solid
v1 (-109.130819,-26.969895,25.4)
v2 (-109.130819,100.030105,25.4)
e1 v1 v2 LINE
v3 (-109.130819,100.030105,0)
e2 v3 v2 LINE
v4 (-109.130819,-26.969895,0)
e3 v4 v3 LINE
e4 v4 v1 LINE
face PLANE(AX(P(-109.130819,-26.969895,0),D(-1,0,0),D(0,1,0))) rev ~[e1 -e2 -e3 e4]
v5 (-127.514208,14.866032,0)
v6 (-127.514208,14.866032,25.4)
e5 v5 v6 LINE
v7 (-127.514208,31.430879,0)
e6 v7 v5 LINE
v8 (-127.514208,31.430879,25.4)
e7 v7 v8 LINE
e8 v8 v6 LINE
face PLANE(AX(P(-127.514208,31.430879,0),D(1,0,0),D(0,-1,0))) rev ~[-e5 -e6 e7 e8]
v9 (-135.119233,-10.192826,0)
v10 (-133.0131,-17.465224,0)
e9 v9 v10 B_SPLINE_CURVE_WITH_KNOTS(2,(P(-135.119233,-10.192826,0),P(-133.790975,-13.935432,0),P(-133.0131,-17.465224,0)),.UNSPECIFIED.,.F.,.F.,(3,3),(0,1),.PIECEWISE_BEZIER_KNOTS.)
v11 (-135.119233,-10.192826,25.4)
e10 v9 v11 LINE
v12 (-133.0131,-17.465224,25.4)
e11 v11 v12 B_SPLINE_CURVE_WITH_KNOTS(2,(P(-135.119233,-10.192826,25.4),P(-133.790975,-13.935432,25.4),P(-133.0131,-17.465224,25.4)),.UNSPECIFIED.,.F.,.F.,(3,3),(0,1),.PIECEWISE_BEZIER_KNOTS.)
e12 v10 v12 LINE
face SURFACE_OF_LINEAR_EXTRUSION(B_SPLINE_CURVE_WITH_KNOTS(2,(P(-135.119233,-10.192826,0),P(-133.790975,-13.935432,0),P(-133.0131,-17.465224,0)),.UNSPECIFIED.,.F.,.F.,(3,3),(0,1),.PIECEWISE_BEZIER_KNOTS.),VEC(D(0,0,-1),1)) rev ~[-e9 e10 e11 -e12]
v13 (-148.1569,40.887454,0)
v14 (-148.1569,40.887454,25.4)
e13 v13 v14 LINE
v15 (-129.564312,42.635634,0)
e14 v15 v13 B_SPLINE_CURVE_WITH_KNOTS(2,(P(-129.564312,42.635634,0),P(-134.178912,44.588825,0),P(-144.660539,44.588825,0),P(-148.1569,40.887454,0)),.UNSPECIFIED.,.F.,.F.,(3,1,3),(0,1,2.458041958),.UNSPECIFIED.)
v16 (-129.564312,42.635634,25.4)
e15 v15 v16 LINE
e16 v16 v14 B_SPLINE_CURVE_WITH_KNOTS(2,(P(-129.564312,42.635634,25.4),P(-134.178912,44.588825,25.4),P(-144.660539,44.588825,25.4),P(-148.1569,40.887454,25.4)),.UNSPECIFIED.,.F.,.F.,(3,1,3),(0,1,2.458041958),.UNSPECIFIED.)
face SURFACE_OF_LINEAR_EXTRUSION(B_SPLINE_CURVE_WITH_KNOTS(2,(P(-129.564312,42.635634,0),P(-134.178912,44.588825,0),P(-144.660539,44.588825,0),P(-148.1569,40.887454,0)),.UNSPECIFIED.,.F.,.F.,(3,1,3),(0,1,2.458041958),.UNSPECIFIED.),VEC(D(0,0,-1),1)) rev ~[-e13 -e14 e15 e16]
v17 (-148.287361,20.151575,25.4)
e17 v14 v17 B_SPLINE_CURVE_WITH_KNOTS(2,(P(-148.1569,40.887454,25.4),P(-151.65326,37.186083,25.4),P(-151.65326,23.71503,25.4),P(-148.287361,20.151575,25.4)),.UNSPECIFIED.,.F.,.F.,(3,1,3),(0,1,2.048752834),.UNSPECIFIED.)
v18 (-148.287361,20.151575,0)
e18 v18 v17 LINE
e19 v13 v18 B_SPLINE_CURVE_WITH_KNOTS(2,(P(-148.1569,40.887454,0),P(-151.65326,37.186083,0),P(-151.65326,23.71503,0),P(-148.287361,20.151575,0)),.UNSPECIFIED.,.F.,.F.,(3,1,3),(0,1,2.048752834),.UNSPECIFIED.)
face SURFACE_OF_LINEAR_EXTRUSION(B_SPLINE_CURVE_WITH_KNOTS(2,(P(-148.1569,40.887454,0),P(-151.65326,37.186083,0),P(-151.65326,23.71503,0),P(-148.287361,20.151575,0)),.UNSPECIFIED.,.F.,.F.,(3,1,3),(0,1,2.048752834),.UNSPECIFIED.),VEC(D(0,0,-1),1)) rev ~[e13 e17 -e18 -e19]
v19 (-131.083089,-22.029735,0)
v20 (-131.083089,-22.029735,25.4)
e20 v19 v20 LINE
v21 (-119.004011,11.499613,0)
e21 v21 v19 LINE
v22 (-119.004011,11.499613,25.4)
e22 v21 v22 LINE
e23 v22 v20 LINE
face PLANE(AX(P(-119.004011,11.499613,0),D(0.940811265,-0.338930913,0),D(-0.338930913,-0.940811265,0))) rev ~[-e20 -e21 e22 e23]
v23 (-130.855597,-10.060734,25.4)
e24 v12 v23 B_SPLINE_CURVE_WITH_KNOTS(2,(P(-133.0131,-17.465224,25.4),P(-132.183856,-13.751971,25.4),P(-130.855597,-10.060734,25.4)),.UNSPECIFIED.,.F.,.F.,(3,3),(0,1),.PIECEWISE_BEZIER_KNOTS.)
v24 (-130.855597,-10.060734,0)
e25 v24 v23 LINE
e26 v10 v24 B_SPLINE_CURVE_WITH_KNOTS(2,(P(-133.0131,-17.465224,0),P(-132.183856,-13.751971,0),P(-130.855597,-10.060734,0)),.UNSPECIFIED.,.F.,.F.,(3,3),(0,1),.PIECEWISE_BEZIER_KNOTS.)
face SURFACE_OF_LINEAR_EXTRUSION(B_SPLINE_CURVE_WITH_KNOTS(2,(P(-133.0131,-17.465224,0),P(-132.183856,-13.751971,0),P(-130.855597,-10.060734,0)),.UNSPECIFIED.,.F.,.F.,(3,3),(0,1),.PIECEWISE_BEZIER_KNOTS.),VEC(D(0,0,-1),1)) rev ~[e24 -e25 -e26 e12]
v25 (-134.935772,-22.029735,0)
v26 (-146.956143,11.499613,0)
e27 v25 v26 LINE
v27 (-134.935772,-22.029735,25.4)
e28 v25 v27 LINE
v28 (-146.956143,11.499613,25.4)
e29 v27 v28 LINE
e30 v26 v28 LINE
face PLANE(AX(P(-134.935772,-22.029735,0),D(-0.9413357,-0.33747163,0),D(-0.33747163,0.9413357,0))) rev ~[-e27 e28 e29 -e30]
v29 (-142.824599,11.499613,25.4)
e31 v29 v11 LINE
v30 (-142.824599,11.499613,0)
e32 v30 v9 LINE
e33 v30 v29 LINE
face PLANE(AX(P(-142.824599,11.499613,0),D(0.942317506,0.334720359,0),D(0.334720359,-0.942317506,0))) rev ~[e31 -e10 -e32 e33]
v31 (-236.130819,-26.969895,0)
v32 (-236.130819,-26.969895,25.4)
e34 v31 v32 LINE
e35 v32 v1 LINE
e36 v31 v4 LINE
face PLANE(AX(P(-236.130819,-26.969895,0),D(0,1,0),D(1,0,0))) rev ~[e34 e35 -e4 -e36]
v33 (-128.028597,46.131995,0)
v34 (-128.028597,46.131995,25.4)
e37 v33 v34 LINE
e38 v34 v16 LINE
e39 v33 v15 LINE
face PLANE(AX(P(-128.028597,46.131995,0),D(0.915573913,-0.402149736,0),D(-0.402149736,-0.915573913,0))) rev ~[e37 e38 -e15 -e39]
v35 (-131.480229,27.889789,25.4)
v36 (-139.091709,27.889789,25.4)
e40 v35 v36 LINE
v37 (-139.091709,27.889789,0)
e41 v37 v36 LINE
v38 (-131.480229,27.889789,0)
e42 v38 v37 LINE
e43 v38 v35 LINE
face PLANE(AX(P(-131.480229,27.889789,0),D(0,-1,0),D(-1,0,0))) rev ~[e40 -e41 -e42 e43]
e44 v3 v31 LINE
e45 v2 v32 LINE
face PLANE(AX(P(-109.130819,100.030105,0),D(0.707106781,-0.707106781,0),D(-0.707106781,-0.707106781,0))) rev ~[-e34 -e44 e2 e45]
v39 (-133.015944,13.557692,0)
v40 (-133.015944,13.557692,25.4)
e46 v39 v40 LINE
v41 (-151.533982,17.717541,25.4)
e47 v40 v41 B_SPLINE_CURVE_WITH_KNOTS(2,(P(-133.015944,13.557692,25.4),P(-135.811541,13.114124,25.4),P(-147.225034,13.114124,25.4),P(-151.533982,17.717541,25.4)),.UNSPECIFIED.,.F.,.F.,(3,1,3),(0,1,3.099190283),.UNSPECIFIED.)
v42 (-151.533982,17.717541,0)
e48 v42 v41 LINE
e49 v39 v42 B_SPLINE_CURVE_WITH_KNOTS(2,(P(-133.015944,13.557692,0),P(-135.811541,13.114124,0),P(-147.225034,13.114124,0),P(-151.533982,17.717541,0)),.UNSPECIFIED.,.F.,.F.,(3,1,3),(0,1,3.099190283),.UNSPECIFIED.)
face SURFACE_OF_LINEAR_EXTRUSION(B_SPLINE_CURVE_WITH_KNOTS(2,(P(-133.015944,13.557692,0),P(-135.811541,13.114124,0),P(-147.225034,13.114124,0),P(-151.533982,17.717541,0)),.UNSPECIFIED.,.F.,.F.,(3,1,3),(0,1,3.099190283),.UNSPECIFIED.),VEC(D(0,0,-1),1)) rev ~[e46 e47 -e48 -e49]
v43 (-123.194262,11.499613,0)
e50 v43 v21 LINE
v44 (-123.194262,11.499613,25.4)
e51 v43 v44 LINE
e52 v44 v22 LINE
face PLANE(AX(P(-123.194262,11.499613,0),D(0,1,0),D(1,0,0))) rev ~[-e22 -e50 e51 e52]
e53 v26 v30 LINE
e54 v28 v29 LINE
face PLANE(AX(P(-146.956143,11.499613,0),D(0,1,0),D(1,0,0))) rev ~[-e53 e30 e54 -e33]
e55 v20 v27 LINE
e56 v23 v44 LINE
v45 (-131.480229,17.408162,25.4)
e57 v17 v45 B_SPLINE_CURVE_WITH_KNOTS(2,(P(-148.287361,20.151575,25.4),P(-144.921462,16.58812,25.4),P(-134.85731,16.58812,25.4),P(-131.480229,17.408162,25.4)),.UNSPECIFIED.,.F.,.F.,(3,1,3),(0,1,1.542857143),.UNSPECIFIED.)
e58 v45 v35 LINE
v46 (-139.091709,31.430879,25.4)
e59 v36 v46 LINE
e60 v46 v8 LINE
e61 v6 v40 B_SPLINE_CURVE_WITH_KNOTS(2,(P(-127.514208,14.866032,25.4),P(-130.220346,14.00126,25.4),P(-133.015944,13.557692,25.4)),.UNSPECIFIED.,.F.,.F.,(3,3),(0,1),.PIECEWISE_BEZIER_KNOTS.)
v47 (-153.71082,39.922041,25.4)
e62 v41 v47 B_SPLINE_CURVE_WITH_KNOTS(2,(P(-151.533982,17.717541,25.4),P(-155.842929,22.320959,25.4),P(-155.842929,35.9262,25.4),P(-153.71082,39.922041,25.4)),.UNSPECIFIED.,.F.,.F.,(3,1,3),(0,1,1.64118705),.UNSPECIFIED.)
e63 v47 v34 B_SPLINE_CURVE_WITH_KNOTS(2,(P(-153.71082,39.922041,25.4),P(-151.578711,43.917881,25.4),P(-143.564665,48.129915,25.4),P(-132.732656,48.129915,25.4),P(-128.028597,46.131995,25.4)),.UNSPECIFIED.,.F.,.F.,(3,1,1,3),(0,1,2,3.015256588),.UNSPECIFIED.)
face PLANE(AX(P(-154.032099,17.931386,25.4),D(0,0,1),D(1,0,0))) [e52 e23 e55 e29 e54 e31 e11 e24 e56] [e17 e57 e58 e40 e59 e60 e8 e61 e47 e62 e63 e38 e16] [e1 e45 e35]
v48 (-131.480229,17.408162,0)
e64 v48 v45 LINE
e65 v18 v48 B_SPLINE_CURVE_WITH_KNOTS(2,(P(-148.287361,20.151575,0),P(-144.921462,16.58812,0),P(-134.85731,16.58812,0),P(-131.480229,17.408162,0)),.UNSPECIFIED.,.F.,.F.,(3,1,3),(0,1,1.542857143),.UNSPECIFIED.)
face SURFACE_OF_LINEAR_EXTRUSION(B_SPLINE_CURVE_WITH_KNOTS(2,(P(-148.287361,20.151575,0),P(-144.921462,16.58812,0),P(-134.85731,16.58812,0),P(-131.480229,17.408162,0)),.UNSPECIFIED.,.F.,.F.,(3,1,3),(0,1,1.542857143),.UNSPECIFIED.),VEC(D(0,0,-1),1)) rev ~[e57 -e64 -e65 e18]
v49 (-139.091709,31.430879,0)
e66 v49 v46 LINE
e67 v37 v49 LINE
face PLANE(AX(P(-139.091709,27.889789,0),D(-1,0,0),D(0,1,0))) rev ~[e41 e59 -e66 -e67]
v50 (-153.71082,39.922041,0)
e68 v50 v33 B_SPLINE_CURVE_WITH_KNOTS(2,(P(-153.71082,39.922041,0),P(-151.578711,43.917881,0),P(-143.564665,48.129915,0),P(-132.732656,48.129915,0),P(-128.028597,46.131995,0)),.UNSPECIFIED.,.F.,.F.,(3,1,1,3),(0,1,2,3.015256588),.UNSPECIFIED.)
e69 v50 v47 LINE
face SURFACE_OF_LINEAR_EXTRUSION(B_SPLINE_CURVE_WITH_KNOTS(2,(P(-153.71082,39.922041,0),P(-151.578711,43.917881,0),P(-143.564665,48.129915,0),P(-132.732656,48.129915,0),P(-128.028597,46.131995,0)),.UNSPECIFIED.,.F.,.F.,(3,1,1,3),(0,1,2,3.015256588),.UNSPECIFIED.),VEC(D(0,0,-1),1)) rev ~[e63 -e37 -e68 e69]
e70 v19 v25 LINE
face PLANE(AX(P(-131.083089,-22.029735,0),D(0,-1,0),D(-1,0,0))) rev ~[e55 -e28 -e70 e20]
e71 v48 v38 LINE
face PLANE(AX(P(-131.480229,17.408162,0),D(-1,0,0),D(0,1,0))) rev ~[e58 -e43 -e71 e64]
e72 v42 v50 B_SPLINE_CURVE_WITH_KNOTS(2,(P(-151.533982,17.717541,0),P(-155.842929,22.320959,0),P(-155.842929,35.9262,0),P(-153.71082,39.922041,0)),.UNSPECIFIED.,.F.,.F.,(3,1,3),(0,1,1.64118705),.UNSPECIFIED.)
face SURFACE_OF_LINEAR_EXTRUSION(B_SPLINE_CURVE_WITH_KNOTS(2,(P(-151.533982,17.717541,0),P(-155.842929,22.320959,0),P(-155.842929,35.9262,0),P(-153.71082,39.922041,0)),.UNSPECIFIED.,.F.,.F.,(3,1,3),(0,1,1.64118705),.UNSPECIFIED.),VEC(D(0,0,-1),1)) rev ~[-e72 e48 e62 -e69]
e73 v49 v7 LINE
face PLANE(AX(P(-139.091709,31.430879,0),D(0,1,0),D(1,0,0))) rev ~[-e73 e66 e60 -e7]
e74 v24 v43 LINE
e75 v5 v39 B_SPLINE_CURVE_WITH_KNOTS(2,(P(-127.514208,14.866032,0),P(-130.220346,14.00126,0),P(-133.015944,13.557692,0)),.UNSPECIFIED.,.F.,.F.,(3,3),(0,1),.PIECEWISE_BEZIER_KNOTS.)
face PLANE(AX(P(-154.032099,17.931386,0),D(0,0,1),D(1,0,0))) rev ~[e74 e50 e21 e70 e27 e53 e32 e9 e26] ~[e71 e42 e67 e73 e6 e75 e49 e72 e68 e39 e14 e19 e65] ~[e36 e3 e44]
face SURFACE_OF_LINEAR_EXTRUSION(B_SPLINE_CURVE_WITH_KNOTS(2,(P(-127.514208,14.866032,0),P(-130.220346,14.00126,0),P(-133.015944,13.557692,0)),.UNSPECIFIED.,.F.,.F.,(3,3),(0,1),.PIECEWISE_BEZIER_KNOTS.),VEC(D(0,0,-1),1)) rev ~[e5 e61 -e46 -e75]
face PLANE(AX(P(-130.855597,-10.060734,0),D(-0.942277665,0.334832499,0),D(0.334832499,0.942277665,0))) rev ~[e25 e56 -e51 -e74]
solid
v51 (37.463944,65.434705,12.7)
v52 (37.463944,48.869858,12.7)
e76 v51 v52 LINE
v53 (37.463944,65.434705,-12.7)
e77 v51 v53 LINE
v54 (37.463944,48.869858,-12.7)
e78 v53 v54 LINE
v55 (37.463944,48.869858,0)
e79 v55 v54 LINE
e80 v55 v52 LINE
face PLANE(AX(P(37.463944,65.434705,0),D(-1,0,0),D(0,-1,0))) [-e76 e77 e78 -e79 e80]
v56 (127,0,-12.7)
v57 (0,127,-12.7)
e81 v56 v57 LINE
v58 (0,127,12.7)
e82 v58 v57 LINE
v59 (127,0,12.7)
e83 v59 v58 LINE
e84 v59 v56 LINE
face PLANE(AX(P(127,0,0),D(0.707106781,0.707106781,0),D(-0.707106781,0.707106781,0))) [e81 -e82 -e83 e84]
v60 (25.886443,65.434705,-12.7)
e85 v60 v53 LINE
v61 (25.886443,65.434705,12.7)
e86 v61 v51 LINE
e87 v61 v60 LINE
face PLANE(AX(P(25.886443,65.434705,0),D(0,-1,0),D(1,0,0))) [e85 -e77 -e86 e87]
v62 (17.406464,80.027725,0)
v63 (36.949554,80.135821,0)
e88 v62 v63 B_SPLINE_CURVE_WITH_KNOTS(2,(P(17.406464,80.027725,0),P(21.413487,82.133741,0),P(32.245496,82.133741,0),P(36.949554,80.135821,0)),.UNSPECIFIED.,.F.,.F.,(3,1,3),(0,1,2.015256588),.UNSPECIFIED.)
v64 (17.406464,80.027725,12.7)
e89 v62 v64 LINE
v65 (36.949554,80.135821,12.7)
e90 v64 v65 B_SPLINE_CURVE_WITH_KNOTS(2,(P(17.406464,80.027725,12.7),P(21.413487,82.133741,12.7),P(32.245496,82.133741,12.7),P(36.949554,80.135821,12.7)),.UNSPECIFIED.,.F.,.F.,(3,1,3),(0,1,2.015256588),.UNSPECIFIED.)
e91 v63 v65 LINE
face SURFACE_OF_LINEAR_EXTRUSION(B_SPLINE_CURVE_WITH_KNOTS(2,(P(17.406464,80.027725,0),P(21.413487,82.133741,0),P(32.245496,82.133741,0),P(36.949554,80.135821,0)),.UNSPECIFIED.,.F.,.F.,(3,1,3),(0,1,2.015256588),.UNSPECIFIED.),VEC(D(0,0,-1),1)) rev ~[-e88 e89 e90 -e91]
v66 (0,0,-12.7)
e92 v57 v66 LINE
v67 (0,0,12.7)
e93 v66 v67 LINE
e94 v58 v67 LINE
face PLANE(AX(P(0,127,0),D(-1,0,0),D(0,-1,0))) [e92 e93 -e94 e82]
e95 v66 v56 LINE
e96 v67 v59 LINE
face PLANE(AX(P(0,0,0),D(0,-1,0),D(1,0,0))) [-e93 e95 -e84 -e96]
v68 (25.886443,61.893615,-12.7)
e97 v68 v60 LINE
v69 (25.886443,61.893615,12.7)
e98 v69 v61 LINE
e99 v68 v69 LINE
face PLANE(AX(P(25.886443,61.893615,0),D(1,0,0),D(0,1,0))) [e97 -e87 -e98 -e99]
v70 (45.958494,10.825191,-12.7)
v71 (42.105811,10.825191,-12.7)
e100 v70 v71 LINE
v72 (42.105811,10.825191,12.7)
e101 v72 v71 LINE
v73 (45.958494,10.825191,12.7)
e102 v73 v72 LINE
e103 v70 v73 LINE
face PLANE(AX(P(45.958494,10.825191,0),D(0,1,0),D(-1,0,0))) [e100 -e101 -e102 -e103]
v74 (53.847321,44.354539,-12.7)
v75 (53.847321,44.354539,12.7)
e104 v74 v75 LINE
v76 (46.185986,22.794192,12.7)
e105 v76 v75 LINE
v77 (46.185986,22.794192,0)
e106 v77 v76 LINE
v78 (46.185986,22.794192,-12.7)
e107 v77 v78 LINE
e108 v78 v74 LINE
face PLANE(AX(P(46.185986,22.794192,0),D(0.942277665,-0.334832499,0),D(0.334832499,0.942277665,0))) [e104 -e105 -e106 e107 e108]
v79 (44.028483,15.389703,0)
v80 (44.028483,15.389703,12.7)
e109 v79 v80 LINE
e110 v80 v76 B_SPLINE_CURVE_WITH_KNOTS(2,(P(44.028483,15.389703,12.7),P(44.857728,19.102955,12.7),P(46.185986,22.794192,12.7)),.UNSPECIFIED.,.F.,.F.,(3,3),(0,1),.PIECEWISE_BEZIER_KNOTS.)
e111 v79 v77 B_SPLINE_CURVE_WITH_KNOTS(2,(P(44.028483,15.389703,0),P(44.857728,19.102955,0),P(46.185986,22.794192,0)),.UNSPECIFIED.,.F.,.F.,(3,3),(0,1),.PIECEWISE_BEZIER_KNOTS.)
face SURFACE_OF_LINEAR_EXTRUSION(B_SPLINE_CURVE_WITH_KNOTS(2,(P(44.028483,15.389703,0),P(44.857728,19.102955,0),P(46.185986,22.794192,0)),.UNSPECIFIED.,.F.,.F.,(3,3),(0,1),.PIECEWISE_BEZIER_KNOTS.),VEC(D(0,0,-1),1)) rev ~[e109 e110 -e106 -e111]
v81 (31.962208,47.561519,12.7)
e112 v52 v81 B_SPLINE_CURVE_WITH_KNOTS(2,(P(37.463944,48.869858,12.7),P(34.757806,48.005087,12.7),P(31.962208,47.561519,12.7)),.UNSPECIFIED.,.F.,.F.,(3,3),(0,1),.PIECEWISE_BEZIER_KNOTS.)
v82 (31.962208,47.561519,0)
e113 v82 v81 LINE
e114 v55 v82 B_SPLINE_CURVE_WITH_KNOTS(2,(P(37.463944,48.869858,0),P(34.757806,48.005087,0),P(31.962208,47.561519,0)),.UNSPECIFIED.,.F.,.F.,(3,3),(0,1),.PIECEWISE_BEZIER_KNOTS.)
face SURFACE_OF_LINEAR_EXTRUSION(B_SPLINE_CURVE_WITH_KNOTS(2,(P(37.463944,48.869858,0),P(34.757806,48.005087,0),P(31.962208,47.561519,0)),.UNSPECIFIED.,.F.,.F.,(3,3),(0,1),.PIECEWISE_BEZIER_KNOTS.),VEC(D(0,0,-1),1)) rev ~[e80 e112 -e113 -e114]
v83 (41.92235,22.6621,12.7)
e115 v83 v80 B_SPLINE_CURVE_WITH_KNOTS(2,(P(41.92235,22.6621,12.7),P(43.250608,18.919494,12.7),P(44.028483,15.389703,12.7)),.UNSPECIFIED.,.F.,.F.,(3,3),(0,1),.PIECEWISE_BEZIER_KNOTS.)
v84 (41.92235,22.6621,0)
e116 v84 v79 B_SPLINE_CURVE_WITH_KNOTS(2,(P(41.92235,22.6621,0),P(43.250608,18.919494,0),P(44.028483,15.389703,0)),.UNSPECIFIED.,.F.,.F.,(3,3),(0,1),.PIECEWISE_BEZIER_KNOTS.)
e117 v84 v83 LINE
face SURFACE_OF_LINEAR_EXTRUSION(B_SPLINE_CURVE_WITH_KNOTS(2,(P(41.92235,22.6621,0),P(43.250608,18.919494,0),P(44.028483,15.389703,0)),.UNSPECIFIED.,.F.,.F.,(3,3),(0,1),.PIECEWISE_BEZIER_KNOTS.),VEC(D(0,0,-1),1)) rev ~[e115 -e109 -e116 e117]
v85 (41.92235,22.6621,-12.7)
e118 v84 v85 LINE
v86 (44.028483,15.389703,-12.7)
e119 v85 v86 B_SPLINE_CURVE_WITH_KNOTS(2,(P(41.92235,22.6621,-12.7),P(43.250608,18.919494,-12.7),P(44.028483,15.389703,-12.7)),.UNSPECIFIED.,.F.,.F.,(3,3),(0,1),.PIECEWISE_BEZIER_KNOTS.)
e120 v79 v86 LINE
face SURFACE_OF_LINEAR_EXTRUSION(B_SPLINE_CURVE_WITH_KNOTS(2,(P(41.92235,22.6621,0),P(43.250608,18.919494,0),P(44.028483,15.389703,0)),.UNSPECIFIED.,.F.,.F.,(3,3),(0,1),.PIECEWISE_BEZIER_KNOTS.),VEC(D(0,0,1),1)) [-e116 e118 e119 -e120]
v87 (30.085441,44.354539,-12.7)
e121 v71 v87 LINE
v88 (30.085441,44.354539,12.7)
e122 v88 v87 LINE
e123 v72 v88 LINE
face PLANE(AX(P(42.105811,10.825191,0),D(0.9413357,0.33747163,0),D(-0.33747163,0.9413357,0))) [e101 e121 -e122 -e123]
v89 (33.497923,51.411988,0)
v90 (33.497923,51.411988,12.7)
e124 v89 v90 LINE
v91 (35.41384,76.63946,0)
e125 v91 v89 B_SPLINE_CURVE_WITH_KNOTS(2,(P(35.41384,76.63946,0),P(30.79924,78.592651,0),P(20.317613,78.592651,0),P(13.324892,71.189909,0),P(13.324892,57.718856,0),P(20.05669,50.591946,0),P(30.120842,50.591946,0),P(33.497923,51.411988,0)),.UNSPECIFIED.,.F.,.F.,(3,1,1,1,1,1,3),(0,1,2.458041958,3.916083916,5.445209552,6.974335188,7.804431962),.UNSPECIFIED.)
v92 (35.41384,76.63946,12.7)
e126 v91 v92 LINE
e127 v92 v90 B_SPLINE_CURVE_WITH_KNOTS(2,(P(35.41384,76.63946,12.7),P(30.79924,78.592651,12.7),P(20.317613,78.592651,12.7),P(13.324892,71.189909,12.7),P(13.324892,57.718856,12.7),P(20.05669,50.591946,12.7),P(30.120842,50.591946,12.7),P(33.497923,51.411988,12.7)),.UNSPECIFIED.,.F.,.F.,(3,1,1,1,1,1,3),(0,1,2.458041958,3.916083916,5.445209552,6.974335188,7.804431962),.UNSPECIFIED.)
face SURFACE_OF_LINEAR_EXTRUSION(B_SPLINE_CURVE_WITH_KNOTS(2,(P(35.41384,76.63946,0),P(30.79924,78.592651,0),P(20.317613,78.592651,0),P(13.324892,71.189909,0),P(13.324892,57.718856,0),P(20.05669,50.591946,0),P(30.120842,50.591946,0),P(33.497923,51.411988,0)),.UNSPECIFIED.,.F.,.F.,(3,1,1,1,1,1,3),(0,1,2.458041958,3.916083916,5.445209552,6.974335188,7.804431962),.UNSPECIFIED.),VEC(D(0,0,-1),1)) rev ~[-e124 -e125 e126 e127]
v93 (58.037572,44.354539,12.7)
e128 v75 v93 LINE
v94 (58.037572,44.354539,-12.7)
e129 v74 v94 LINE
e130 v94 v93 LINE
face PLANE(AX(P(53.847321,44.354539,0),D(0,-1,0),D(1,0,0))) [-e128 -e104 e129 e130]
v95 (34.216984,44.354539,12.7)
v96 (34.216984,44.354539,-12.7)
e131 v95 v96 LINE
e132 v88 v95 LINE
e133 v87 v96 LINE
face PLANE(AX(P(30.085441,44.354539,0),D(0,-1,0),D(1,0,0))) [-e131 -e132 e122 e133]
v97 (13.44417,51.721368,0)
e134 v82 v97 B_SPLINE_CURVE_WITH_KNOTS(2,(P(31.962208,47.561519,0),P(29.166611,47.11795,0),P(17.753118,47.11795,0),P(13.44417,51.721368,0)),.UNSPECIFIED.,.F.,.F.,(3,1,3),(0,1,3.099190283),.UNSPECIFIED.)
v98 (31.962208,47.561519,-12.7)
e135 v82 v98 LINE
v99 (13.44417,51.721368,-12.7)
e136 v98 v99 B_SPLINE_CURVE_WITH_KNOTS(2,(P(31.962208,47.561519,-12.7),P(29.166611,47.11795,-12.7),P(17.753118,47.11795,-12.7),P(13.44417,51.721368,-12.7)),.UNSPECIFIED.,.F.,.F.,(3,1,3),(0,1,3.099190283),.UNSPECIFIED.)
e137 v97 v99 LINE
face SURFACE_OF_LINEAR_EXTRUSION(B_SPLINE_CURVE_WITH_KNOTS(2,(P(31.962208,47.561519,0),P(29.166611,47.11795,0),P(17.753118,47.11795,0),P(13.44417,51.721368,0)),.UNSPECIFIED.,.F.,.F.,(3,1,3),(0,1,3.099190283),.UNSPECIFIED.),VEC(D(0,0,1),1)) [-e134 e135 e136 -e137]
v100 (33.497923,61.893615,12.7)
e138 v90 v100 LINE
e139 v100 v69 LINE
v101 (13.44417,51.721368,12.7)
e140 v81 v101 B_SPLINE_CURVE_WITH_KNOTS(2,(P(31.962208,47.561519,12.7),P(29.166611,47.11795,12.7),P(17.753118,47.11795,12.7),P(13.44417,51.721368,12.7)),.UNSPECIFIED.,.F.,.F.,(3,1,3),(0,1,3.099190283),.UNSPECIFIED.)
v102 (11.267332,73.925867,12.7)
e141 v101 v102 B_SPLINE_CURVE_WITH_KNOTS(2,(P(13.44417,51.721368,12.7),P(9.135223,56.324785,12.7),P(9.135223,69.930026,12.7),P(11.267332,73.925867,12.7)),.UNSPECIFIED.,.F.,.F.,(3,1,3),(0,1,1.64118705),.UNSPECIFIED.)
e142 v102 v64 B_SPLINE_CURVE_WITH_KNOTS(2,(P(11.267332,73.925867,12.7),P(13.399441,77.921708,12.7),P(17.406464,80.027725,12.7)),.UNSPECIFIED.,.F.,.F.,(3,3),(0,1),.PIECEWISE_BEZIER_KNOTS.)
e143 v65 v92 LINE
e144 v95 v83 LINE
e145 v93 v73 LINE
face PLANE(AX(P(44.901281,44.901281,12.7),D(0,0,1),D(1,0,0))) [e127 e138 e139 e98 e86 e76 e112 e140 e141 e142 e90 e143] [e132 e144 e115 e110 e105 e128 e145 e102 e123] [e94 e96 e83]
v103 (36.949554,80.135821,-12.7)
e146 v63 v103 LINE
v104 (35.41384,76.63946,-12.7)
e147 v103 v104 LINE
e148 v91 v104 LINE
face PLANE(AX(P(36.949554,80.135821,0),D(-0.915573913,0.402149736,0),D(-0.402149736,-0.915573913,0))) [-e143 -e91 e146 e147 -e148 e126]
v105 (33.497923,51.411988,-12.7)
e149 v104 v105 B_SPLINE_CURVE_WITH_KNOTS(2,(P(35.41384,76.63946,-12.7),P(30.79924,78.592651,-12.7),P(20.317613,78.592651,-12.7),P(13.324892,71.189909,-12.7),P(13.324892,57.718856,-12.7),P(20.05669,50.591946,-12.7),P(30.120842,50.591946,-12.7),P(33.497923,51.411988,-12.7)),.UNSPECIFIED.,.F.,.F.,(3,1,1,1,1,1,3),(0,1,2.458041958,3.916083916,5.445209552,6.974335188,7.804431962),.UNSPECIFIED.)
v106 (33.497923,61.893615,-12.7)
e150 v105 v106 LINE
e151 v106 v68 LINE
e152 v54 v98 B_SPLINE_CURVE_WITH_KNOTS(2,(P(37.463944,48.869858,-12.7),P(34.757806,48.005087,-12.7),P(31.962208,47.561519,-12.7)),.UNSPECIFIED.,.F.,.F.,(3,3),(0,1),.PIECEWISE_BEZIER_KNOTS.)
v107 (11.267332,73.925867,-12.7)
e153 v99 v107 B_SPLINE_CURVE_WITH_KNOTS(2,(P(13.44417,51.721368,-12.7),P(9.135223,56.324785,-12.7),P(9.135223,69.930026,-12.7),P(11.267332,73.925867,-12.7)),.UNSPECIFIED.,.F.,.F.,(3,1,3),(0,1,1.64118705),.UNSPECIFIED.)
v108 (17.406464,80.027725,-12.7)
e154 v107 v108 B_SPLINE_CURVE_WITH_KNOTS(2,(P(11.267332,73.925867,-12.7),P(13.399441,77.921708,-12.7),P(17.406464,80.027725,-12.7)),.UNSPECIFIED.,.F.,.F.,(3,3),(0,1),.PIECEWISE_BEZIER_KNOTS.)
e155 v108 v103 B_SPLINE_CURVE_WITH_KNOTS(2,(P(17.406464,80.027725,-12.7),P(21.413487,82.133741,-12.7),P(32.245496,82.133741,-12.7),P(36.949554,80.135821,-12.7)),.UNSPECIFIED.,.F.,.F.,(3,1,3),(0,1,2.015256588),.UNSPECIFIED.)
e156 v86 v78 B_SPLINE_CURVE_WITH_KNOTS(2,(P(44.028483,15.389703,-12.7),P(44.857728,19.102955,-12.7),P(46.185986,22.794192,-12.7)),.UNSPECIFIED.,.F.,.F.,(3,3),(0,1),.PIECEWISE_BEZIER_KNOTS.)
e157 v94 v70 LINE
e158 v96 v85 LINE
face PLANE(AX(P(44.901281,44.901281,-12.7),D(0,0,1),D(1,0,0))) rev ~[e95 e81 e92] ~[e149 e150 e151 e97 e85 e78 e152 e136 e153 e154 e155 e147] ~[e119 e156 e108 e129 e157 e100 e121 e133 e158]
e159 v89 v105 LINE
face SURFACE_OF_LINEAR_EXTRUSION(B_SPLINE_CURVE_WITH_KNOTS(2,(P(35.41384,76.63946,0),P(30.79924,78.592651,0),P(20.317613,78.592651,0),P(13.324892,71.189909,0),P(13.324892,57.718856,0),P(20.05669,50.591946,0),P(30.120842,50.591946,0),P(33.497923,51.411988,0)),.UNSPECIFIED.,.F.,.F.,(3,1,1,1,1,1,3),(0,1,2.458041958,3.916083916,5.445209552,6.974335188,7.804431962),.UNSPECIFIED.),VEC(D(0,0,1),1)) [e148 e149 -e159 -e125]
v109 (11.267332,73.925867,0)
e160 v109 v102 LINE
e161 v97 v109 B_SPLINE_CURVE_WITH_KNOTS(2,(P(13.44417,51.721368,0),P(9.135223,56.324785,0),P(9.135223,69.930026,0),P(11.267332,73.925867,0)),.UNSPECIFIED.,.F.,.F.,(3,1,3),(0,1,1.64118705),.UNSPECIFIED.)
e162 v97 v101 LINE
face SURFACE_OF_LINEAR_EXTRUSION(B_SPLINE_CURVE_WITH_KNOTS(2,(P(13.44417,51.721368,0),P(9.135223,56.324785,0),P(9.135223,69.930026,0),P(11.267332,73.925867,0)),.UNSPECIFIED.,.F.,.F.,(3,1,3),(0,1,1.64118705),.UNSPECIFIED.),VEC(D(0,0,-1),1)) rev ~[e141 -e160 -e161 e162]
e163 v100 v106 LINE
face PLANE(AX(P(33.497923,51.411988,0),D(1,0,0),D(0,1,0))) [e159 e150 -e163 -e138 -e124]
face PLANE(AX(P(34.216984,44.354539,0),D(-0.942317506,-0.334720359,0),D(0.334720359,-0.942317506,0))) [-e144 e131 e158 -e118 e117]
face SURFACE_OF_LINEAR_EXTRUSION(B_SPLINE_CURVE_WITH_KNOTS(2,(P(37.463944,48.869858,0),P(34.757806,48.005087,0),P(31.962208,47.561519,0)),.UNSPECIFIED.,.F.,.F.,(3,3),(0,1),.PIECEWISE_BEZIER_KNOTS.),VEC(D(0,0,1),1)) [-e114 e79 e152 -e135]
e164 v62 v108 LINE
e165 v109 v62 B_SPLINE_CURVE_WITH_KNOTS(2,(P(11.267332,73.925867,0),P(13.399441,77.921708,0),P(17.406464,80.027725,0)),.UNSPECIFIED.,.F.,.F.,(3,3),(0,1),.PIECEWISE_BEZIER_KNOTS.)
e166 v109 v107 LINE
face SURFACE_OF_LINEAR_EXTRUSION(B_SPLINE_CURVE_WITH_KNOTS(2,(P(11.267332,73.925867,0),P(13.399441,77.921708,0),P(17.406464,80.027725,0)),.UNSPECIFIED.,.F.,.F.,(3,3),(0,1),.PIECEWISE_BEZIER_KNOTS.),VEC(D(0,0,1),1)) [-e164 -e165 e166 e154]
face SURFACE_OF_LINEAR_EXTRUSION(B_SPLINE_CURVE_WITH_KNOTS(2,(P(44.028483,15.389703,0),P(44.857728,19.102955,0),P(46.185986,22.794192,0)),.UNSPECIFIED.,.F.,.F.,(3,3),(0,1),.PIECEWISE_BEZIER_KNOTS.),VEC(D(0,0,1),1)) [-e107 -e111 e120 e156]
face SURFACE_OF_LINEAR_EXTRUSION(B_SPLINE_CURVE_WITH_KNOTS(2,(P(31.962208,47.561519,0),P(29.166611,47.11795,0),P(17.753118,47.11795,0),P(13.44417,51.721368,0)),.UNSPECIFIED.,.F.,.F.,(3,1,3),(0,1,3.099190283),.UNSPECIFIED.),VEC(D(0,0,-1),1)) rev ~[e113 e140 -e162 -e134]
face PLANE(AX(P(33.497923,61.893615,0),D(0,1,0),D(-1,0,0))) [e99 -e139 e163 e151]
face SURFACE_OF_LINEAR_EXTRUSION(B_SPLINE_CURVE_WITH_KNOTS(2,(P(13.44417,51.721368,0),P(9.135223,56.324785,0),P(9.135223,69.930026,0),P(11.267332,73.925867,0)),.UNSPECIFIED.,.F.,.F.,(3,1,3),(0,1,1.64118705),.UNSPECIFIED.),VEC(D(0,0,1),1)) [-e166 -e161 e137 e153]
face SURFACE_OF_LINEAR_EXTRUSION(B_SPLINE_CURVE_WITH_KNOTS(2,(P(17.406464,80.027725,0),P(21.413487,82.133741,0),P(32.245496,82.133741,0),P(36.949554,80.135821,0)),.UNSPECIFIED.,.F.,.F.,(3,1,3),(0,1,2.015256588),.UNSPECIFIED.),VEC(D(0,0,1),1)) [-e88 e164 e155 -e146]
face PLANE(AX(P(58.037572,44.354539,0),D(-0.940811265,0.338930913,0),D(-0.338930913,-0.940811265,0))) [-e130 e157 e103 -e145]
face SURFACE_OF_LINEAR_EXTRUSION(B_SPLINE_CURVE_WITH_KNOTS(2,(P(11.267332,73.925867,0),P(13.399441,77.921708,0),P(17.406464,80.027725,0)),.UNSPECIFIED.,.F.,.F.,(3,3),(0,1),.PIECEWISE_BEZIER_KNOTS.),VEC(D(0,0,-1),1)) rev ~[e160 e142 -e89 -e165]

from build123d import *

# Parameters (mm, degrees)
F1_DEPTH = 12.7
F3_DEPTH = 25.4


with BuildPart() as f1:
    # F0 (on Top) → F1 (new body, symmetric)
    with BuildSketch(Plane.XY):
        Polygon((0, 127), (0, 0), (127, 0), align=None)
        with BuildLine():
            Line((46.1859858478, 22.7941921039), (53.8473209017, 44.3545392191))
            Line((53.8473209017, 44.3545392191), (58.037572162, 44.3545392191))
            Line((58.037572162, 44.3545392191), (45.9584940982, 10.8251906931))
            Line((45.9584940982, 10.8251906931), (42.1058112406, 10.8251906931))
            Line((42.1058112406, 10.8251906931), (30.0854407251, 44.3545392191))
            Line((30.0854407251, 44.3545392191), (34.2169844371, 44.3545392191))
            Line((34.2169844371, 44.3545392191), (41.9223501522, 22.6621001202))
            add(Edge.make_bspline(
                [(41.9223501522, 22.6621001202), (43.2506084326, 18.9194939157), (44.0284834476, 15.3897025739)],
                knots=[0, 0, 0, 1, 1, 1], degree=2))
            add(Edge.make_bspline(
                [(44.0284834476, 15.3897025739), (44.8577275674, 19.1029550042), (46.1859858478, 22.7941921039)],
                knots=[0, 0, 0, 1, 1, 1], degree=2))
        make_face(mode=Mode.SUBTRACT)
        with BuildLine():
            Line((25.8864431332, 61.8936152508), (25.8864431332, 65.434705466))
            Line((25.8864431332, 65.434705466), (37.4639444053, 65.434705466))
            Line((37.4639444053, 65.434705466), (37.4639444053, 48.8698581855))
            add(Edge.make_bspline(
                [(37.4639444053, 48.8698581855), (34.7578059882, 48.0050866803), (31.9622084498, 47.5615185375)],
                knots=[0, 0, 0, 1, 1, 1], degree=2))
            add(Edge.make_bspline(
                [(31.9622084498, 47.5615185375), (29.1666109115, 47.1179503947), (25.4838770876, 47.1179503947)],
                knots=[0, 0, 0, 1, 1, 1], degree=2))
            add(Edge.make_bspline(
                [(25.4838770876, 47.1179503947), (17.7531180282, 47.1179503947), (13.4441703558, 51.7213676746)],
                knots=[0, 0, 0, 1, 1, 1], degree=2))
            add(Edge.make_bspline(
                [(13.4441703558, 51.7213676746), (9.1352226834, 56.3247849544), (9.1352226834, 64.6146635214)],
                knots=[0, 0, 0, 1, 1, 1], degree=2))
            add(Edge.make_bspline(
                [(9.1352226834, 64.6146635214), (9.1352226834, 69.9300263077), (11.2673317393, 73.9258670559)],
                knots=[0, 0, 0, 1, 1, 1], degree=2))
            add(Edge.make_bspline(
                [(11.2673317393, 73.9258670559), (13.3994407952, 77.921707804), (17.4064639335, 80.0277246162)],
                knots=[0, 0, 0, 1, 1, 1], degree=2))
            add(Edge.make_bspline(
                [(17.4064639335, 80.0277246162), (21.4134870718, 82.1337414285), (26.7884892722, 82.1337414285)],
                knots=[0, 0, 0, 1, 1, 1], degree=2))
            add(Edge.make_bspline(
                [(26.7884892722, 82.1337414285), (32.2454956671, 82.1337414285), (36.9495544583, 80.1358210544)],
                knots=[0, 0, 0, 1, 1, 1], degree=2))
            Line((36.9495544583, 80.1358210544), (35.4138395439, 76.6394603997))
            add(Edge.make_bspline(
                [(35.4138395439, 76.6394603997), (30.7992398739, 78.5926512132), (26.5350217621, 78.5926512132)],
                knots=[0, 0, 0, 1, 1, 1], degree=2))
            add(Edge.make_bspline(
                [(26.5350217621, 78.5926512132), (20.3176128368, 78.5926512132), (16.8212521821, 74.8912800724)],
                knots=[0, 0, 0, 1, 1, 1], degree=2))
            add(Edge.make_bspline(
                [(16.8212521821, 74.8912800724), (13.3248915275, 71.1899089317), (13.3248915275, 64.6146635214)],
                knots=[0, 0, 0, 1, 1, 1], degree=2))
            add(Edge.make_bspline(
                [(13.3248915275, 64.6146635214), (13.3248915275, 57.7188562602), (16.6907909637, 54.1554012646)],
                knots=[0, 0, 0, 1, 1, 1], degree=2))
            add(Edge.make_bspline(
                [(16.6907909637, 54.1554012646), (20.0566903998, 50.5919462691), (26.5797513227, 50.5919462691)],
                knots=[0, 0, 0, 1, 1, 1], degree=2))
            add(Edge.make_bspline(
                [(26.5797513227, 50.5919462691), (30.1208415379, 50.5919462691), (33.4979233642, 51.4119882137)],
                knots=[0, 0, 0, 1, 1, 1], degree=2))
            Line((33.4979233642, 51.4119882137), (33.4979233642, 61.8936152508))
            Line((33.4979233642, 61.8936152508), (25.8864431332, 61.8936152508))
        make_face(mode=Mode.SUBTRACT)
    extrude(amount=F1_DEPTH, both=True)


with BuildPart() as f3:
    # F2 (on Top) → F3 (new body)
    with BuildSketch(Plane.XY):
        Polygon((-236.1308187246, -26.9698947668), (-109.1308187246, -26.9698947668), (-109.1308187246, 100.0301052332), align=None)
        with BuildLine():
            Line((-130.855597427, -10.0607340742), (-123.1942623731, 11.499613041))
            Line((-123.1942623731, 11.499613041), (-119.0040111128, 11.499613041))
            Line((-119.0040111128, 11.499613041), (-131.0830891766, -22.0297354849))
            Line((-131.0830891766, -22.0297354849), (-134.9357720342, -22.0297354849))
            Line((-134.9357720342, -22.0297354849), (-146.9561425497, 11.499613041))
            Line((-146.9561425497, 11.499613041), (-142.8245988377, 11.499613041))
            Line((-142.8245988377, 11.499613041), (-135.1192331226, -10.1928260579))
            add(Edge.make_bspline(
                [(-135.1192331226, -10.1928260579), (-133.7909748422, -13.9354322623), (-133.0130998272, -17.4652236042)],
                knots=[0, 0, 0, 1, 1, 1], degree=2))
            add(Edge.make_bspline(
                [(-133.0130998272, -17.4652236042), (-132.1838557074, -13.7519711739), (-130.855597427, -10.0607340742)],
                knots=[0, 0, 0, 1, 1, 1], degree=2))
        make_face(mode=Mode.SUBTRACT)
        with BuildLine():
            Line((-139.0917088209, 27.8897888809), (-139.0917088209, 31.4308790962))
            Line((-139.0917088209, 31.4308790962), (-127.5142075488, 31.4308790962))
            Line((-127.5142075488, 31.4308790962), (-127.5142075488, 14.8660318156))
            add(Edge.make_bspline(
                [(-127.5142075488, 14.8660318156), (-130.2203459659, 14.0012603104), (-133.0159435042, 13.5576921677)],
                knots=[0, 0, 0, 1, 1, 1], degree=2))
            add(Edge.make_bspline(
                [(-133.0159435042, 13.5576921677), (-135.8115410426, 13.1141240249), (-139.4942748665, 13.1141240249)],
                knots=[0, 0, 0, 1, 1, 1], degree=2))
            add(Edge.make_bspline(
                [(-139.4942748665, 13.1141240249), (-147.2250339258, 13.1141240249), (-151.5339815983, 17.7175413047)],
                knots=[0, 0, 0, 1, 1, 1], degree=2))
            add(Edge.make_bspline(
                [(-151.5339815983, 17.7175413047), (-155.8429292707, 22.3209585845), (-155.8429292707, 30.6108371516)],
                knots=[0, 0, 0, 1, 1, 1], degree=2))
            add(Edge.make_bspline(
                [(-155.8429292707, 30.6108371516), (-155.8429292707, 35.9261999379), (-153.7108202148, 39.922040686)],
                knots=[0, 0, 0, 1, 1, 1], degree=2))
            add(Edge.make_bspline(
                [(-153.7108202148, 39.922040686), (-151.5787111589, 43.9178814342), (-147.5716880206, 46.0238982464)],
                knots=[0, 0, 0, 1, 1, 1], degree=2))
            add(Edge.make_bspline(
                [(-147.5716880206, 46.0238982464), (-143.5646648823, 48.1299150586), (-138.1896626819, 48.1299150586)],
                knots=[0, 0, 0, 1, 1, 1], degree=2))
            add(Edge.make_bspline(
                [(-138.1896626819, 48.1299150586), (-132.732656287, 48.1299150586), (-128.0285974958, 46.1319946845)],
                knots=[0, 0, 0, 1, 1, 1], degree=2))
            Line((-128.0285974958, 46.1319946845), (-129.5643124102, 42.6356340299))
            add(Edge.make_bspline(
                [(-129.5643124102, 42.6356340299), (-134.1789120802, 44.5888248434), (-138.443130192, 44.5888248434)],
                knots=[0, 0, 0, 1, 1, 1], degree=2))
            add(Edge.make_bspline(
                [(-138.443130192, 44.5888248434), (-144.6605391173, 44.5888248434), (-148.156899772, 40.8874537026)],
                knots=[0, 0, 0, 1, 1, 1], degree=2))
            add(Edge.make_bspline(
                [(-148.156899772, 40.8874537026), (-151.6532604266, 37.1860825618), (-151.6532604266, 30.6108371516)],
                knots=[0, 0, 0, 1, 1, 1], degree=2))
            add(Edge.make_bspline(
                [(-151.6532604266, 30.6108371516), (-151.6532604266, 23.7150298903), (-148.2873609904, 20.1515748948)],
                knots=[0, 0, 0, 1, 1, 1], degree=2))
            add(Edge.make_bspline(
                [(-148.2873609904, 20.1515748948), (-144.9214615542, 16.5881198992), (-138.3984006314, 16.5881198992)],
                knots=[0, 0, 0, 1, 1, 1], degree=2))
            add(Edge.make_bspline(
                [(-138.3984006314, 16.5881198992), (-134.8573104162, 16.5881198992), (-131.4802285898, 17.4081618438)],
                knots=[0, 0, 0, 1, 1, 1], degree=2))
            Line((-131.4802285898, 17.4081618438), (-131.4802285898, 27.8897888809))
            Line((-131.4802285898, 27.8897888809), (-139.0917088209, 27.8897888809))
        make_face(mode=Mode.SUBTRACT)
    extrude(amount=F3_DEPTH)


solid = Compound([f1.part, f3.part])
